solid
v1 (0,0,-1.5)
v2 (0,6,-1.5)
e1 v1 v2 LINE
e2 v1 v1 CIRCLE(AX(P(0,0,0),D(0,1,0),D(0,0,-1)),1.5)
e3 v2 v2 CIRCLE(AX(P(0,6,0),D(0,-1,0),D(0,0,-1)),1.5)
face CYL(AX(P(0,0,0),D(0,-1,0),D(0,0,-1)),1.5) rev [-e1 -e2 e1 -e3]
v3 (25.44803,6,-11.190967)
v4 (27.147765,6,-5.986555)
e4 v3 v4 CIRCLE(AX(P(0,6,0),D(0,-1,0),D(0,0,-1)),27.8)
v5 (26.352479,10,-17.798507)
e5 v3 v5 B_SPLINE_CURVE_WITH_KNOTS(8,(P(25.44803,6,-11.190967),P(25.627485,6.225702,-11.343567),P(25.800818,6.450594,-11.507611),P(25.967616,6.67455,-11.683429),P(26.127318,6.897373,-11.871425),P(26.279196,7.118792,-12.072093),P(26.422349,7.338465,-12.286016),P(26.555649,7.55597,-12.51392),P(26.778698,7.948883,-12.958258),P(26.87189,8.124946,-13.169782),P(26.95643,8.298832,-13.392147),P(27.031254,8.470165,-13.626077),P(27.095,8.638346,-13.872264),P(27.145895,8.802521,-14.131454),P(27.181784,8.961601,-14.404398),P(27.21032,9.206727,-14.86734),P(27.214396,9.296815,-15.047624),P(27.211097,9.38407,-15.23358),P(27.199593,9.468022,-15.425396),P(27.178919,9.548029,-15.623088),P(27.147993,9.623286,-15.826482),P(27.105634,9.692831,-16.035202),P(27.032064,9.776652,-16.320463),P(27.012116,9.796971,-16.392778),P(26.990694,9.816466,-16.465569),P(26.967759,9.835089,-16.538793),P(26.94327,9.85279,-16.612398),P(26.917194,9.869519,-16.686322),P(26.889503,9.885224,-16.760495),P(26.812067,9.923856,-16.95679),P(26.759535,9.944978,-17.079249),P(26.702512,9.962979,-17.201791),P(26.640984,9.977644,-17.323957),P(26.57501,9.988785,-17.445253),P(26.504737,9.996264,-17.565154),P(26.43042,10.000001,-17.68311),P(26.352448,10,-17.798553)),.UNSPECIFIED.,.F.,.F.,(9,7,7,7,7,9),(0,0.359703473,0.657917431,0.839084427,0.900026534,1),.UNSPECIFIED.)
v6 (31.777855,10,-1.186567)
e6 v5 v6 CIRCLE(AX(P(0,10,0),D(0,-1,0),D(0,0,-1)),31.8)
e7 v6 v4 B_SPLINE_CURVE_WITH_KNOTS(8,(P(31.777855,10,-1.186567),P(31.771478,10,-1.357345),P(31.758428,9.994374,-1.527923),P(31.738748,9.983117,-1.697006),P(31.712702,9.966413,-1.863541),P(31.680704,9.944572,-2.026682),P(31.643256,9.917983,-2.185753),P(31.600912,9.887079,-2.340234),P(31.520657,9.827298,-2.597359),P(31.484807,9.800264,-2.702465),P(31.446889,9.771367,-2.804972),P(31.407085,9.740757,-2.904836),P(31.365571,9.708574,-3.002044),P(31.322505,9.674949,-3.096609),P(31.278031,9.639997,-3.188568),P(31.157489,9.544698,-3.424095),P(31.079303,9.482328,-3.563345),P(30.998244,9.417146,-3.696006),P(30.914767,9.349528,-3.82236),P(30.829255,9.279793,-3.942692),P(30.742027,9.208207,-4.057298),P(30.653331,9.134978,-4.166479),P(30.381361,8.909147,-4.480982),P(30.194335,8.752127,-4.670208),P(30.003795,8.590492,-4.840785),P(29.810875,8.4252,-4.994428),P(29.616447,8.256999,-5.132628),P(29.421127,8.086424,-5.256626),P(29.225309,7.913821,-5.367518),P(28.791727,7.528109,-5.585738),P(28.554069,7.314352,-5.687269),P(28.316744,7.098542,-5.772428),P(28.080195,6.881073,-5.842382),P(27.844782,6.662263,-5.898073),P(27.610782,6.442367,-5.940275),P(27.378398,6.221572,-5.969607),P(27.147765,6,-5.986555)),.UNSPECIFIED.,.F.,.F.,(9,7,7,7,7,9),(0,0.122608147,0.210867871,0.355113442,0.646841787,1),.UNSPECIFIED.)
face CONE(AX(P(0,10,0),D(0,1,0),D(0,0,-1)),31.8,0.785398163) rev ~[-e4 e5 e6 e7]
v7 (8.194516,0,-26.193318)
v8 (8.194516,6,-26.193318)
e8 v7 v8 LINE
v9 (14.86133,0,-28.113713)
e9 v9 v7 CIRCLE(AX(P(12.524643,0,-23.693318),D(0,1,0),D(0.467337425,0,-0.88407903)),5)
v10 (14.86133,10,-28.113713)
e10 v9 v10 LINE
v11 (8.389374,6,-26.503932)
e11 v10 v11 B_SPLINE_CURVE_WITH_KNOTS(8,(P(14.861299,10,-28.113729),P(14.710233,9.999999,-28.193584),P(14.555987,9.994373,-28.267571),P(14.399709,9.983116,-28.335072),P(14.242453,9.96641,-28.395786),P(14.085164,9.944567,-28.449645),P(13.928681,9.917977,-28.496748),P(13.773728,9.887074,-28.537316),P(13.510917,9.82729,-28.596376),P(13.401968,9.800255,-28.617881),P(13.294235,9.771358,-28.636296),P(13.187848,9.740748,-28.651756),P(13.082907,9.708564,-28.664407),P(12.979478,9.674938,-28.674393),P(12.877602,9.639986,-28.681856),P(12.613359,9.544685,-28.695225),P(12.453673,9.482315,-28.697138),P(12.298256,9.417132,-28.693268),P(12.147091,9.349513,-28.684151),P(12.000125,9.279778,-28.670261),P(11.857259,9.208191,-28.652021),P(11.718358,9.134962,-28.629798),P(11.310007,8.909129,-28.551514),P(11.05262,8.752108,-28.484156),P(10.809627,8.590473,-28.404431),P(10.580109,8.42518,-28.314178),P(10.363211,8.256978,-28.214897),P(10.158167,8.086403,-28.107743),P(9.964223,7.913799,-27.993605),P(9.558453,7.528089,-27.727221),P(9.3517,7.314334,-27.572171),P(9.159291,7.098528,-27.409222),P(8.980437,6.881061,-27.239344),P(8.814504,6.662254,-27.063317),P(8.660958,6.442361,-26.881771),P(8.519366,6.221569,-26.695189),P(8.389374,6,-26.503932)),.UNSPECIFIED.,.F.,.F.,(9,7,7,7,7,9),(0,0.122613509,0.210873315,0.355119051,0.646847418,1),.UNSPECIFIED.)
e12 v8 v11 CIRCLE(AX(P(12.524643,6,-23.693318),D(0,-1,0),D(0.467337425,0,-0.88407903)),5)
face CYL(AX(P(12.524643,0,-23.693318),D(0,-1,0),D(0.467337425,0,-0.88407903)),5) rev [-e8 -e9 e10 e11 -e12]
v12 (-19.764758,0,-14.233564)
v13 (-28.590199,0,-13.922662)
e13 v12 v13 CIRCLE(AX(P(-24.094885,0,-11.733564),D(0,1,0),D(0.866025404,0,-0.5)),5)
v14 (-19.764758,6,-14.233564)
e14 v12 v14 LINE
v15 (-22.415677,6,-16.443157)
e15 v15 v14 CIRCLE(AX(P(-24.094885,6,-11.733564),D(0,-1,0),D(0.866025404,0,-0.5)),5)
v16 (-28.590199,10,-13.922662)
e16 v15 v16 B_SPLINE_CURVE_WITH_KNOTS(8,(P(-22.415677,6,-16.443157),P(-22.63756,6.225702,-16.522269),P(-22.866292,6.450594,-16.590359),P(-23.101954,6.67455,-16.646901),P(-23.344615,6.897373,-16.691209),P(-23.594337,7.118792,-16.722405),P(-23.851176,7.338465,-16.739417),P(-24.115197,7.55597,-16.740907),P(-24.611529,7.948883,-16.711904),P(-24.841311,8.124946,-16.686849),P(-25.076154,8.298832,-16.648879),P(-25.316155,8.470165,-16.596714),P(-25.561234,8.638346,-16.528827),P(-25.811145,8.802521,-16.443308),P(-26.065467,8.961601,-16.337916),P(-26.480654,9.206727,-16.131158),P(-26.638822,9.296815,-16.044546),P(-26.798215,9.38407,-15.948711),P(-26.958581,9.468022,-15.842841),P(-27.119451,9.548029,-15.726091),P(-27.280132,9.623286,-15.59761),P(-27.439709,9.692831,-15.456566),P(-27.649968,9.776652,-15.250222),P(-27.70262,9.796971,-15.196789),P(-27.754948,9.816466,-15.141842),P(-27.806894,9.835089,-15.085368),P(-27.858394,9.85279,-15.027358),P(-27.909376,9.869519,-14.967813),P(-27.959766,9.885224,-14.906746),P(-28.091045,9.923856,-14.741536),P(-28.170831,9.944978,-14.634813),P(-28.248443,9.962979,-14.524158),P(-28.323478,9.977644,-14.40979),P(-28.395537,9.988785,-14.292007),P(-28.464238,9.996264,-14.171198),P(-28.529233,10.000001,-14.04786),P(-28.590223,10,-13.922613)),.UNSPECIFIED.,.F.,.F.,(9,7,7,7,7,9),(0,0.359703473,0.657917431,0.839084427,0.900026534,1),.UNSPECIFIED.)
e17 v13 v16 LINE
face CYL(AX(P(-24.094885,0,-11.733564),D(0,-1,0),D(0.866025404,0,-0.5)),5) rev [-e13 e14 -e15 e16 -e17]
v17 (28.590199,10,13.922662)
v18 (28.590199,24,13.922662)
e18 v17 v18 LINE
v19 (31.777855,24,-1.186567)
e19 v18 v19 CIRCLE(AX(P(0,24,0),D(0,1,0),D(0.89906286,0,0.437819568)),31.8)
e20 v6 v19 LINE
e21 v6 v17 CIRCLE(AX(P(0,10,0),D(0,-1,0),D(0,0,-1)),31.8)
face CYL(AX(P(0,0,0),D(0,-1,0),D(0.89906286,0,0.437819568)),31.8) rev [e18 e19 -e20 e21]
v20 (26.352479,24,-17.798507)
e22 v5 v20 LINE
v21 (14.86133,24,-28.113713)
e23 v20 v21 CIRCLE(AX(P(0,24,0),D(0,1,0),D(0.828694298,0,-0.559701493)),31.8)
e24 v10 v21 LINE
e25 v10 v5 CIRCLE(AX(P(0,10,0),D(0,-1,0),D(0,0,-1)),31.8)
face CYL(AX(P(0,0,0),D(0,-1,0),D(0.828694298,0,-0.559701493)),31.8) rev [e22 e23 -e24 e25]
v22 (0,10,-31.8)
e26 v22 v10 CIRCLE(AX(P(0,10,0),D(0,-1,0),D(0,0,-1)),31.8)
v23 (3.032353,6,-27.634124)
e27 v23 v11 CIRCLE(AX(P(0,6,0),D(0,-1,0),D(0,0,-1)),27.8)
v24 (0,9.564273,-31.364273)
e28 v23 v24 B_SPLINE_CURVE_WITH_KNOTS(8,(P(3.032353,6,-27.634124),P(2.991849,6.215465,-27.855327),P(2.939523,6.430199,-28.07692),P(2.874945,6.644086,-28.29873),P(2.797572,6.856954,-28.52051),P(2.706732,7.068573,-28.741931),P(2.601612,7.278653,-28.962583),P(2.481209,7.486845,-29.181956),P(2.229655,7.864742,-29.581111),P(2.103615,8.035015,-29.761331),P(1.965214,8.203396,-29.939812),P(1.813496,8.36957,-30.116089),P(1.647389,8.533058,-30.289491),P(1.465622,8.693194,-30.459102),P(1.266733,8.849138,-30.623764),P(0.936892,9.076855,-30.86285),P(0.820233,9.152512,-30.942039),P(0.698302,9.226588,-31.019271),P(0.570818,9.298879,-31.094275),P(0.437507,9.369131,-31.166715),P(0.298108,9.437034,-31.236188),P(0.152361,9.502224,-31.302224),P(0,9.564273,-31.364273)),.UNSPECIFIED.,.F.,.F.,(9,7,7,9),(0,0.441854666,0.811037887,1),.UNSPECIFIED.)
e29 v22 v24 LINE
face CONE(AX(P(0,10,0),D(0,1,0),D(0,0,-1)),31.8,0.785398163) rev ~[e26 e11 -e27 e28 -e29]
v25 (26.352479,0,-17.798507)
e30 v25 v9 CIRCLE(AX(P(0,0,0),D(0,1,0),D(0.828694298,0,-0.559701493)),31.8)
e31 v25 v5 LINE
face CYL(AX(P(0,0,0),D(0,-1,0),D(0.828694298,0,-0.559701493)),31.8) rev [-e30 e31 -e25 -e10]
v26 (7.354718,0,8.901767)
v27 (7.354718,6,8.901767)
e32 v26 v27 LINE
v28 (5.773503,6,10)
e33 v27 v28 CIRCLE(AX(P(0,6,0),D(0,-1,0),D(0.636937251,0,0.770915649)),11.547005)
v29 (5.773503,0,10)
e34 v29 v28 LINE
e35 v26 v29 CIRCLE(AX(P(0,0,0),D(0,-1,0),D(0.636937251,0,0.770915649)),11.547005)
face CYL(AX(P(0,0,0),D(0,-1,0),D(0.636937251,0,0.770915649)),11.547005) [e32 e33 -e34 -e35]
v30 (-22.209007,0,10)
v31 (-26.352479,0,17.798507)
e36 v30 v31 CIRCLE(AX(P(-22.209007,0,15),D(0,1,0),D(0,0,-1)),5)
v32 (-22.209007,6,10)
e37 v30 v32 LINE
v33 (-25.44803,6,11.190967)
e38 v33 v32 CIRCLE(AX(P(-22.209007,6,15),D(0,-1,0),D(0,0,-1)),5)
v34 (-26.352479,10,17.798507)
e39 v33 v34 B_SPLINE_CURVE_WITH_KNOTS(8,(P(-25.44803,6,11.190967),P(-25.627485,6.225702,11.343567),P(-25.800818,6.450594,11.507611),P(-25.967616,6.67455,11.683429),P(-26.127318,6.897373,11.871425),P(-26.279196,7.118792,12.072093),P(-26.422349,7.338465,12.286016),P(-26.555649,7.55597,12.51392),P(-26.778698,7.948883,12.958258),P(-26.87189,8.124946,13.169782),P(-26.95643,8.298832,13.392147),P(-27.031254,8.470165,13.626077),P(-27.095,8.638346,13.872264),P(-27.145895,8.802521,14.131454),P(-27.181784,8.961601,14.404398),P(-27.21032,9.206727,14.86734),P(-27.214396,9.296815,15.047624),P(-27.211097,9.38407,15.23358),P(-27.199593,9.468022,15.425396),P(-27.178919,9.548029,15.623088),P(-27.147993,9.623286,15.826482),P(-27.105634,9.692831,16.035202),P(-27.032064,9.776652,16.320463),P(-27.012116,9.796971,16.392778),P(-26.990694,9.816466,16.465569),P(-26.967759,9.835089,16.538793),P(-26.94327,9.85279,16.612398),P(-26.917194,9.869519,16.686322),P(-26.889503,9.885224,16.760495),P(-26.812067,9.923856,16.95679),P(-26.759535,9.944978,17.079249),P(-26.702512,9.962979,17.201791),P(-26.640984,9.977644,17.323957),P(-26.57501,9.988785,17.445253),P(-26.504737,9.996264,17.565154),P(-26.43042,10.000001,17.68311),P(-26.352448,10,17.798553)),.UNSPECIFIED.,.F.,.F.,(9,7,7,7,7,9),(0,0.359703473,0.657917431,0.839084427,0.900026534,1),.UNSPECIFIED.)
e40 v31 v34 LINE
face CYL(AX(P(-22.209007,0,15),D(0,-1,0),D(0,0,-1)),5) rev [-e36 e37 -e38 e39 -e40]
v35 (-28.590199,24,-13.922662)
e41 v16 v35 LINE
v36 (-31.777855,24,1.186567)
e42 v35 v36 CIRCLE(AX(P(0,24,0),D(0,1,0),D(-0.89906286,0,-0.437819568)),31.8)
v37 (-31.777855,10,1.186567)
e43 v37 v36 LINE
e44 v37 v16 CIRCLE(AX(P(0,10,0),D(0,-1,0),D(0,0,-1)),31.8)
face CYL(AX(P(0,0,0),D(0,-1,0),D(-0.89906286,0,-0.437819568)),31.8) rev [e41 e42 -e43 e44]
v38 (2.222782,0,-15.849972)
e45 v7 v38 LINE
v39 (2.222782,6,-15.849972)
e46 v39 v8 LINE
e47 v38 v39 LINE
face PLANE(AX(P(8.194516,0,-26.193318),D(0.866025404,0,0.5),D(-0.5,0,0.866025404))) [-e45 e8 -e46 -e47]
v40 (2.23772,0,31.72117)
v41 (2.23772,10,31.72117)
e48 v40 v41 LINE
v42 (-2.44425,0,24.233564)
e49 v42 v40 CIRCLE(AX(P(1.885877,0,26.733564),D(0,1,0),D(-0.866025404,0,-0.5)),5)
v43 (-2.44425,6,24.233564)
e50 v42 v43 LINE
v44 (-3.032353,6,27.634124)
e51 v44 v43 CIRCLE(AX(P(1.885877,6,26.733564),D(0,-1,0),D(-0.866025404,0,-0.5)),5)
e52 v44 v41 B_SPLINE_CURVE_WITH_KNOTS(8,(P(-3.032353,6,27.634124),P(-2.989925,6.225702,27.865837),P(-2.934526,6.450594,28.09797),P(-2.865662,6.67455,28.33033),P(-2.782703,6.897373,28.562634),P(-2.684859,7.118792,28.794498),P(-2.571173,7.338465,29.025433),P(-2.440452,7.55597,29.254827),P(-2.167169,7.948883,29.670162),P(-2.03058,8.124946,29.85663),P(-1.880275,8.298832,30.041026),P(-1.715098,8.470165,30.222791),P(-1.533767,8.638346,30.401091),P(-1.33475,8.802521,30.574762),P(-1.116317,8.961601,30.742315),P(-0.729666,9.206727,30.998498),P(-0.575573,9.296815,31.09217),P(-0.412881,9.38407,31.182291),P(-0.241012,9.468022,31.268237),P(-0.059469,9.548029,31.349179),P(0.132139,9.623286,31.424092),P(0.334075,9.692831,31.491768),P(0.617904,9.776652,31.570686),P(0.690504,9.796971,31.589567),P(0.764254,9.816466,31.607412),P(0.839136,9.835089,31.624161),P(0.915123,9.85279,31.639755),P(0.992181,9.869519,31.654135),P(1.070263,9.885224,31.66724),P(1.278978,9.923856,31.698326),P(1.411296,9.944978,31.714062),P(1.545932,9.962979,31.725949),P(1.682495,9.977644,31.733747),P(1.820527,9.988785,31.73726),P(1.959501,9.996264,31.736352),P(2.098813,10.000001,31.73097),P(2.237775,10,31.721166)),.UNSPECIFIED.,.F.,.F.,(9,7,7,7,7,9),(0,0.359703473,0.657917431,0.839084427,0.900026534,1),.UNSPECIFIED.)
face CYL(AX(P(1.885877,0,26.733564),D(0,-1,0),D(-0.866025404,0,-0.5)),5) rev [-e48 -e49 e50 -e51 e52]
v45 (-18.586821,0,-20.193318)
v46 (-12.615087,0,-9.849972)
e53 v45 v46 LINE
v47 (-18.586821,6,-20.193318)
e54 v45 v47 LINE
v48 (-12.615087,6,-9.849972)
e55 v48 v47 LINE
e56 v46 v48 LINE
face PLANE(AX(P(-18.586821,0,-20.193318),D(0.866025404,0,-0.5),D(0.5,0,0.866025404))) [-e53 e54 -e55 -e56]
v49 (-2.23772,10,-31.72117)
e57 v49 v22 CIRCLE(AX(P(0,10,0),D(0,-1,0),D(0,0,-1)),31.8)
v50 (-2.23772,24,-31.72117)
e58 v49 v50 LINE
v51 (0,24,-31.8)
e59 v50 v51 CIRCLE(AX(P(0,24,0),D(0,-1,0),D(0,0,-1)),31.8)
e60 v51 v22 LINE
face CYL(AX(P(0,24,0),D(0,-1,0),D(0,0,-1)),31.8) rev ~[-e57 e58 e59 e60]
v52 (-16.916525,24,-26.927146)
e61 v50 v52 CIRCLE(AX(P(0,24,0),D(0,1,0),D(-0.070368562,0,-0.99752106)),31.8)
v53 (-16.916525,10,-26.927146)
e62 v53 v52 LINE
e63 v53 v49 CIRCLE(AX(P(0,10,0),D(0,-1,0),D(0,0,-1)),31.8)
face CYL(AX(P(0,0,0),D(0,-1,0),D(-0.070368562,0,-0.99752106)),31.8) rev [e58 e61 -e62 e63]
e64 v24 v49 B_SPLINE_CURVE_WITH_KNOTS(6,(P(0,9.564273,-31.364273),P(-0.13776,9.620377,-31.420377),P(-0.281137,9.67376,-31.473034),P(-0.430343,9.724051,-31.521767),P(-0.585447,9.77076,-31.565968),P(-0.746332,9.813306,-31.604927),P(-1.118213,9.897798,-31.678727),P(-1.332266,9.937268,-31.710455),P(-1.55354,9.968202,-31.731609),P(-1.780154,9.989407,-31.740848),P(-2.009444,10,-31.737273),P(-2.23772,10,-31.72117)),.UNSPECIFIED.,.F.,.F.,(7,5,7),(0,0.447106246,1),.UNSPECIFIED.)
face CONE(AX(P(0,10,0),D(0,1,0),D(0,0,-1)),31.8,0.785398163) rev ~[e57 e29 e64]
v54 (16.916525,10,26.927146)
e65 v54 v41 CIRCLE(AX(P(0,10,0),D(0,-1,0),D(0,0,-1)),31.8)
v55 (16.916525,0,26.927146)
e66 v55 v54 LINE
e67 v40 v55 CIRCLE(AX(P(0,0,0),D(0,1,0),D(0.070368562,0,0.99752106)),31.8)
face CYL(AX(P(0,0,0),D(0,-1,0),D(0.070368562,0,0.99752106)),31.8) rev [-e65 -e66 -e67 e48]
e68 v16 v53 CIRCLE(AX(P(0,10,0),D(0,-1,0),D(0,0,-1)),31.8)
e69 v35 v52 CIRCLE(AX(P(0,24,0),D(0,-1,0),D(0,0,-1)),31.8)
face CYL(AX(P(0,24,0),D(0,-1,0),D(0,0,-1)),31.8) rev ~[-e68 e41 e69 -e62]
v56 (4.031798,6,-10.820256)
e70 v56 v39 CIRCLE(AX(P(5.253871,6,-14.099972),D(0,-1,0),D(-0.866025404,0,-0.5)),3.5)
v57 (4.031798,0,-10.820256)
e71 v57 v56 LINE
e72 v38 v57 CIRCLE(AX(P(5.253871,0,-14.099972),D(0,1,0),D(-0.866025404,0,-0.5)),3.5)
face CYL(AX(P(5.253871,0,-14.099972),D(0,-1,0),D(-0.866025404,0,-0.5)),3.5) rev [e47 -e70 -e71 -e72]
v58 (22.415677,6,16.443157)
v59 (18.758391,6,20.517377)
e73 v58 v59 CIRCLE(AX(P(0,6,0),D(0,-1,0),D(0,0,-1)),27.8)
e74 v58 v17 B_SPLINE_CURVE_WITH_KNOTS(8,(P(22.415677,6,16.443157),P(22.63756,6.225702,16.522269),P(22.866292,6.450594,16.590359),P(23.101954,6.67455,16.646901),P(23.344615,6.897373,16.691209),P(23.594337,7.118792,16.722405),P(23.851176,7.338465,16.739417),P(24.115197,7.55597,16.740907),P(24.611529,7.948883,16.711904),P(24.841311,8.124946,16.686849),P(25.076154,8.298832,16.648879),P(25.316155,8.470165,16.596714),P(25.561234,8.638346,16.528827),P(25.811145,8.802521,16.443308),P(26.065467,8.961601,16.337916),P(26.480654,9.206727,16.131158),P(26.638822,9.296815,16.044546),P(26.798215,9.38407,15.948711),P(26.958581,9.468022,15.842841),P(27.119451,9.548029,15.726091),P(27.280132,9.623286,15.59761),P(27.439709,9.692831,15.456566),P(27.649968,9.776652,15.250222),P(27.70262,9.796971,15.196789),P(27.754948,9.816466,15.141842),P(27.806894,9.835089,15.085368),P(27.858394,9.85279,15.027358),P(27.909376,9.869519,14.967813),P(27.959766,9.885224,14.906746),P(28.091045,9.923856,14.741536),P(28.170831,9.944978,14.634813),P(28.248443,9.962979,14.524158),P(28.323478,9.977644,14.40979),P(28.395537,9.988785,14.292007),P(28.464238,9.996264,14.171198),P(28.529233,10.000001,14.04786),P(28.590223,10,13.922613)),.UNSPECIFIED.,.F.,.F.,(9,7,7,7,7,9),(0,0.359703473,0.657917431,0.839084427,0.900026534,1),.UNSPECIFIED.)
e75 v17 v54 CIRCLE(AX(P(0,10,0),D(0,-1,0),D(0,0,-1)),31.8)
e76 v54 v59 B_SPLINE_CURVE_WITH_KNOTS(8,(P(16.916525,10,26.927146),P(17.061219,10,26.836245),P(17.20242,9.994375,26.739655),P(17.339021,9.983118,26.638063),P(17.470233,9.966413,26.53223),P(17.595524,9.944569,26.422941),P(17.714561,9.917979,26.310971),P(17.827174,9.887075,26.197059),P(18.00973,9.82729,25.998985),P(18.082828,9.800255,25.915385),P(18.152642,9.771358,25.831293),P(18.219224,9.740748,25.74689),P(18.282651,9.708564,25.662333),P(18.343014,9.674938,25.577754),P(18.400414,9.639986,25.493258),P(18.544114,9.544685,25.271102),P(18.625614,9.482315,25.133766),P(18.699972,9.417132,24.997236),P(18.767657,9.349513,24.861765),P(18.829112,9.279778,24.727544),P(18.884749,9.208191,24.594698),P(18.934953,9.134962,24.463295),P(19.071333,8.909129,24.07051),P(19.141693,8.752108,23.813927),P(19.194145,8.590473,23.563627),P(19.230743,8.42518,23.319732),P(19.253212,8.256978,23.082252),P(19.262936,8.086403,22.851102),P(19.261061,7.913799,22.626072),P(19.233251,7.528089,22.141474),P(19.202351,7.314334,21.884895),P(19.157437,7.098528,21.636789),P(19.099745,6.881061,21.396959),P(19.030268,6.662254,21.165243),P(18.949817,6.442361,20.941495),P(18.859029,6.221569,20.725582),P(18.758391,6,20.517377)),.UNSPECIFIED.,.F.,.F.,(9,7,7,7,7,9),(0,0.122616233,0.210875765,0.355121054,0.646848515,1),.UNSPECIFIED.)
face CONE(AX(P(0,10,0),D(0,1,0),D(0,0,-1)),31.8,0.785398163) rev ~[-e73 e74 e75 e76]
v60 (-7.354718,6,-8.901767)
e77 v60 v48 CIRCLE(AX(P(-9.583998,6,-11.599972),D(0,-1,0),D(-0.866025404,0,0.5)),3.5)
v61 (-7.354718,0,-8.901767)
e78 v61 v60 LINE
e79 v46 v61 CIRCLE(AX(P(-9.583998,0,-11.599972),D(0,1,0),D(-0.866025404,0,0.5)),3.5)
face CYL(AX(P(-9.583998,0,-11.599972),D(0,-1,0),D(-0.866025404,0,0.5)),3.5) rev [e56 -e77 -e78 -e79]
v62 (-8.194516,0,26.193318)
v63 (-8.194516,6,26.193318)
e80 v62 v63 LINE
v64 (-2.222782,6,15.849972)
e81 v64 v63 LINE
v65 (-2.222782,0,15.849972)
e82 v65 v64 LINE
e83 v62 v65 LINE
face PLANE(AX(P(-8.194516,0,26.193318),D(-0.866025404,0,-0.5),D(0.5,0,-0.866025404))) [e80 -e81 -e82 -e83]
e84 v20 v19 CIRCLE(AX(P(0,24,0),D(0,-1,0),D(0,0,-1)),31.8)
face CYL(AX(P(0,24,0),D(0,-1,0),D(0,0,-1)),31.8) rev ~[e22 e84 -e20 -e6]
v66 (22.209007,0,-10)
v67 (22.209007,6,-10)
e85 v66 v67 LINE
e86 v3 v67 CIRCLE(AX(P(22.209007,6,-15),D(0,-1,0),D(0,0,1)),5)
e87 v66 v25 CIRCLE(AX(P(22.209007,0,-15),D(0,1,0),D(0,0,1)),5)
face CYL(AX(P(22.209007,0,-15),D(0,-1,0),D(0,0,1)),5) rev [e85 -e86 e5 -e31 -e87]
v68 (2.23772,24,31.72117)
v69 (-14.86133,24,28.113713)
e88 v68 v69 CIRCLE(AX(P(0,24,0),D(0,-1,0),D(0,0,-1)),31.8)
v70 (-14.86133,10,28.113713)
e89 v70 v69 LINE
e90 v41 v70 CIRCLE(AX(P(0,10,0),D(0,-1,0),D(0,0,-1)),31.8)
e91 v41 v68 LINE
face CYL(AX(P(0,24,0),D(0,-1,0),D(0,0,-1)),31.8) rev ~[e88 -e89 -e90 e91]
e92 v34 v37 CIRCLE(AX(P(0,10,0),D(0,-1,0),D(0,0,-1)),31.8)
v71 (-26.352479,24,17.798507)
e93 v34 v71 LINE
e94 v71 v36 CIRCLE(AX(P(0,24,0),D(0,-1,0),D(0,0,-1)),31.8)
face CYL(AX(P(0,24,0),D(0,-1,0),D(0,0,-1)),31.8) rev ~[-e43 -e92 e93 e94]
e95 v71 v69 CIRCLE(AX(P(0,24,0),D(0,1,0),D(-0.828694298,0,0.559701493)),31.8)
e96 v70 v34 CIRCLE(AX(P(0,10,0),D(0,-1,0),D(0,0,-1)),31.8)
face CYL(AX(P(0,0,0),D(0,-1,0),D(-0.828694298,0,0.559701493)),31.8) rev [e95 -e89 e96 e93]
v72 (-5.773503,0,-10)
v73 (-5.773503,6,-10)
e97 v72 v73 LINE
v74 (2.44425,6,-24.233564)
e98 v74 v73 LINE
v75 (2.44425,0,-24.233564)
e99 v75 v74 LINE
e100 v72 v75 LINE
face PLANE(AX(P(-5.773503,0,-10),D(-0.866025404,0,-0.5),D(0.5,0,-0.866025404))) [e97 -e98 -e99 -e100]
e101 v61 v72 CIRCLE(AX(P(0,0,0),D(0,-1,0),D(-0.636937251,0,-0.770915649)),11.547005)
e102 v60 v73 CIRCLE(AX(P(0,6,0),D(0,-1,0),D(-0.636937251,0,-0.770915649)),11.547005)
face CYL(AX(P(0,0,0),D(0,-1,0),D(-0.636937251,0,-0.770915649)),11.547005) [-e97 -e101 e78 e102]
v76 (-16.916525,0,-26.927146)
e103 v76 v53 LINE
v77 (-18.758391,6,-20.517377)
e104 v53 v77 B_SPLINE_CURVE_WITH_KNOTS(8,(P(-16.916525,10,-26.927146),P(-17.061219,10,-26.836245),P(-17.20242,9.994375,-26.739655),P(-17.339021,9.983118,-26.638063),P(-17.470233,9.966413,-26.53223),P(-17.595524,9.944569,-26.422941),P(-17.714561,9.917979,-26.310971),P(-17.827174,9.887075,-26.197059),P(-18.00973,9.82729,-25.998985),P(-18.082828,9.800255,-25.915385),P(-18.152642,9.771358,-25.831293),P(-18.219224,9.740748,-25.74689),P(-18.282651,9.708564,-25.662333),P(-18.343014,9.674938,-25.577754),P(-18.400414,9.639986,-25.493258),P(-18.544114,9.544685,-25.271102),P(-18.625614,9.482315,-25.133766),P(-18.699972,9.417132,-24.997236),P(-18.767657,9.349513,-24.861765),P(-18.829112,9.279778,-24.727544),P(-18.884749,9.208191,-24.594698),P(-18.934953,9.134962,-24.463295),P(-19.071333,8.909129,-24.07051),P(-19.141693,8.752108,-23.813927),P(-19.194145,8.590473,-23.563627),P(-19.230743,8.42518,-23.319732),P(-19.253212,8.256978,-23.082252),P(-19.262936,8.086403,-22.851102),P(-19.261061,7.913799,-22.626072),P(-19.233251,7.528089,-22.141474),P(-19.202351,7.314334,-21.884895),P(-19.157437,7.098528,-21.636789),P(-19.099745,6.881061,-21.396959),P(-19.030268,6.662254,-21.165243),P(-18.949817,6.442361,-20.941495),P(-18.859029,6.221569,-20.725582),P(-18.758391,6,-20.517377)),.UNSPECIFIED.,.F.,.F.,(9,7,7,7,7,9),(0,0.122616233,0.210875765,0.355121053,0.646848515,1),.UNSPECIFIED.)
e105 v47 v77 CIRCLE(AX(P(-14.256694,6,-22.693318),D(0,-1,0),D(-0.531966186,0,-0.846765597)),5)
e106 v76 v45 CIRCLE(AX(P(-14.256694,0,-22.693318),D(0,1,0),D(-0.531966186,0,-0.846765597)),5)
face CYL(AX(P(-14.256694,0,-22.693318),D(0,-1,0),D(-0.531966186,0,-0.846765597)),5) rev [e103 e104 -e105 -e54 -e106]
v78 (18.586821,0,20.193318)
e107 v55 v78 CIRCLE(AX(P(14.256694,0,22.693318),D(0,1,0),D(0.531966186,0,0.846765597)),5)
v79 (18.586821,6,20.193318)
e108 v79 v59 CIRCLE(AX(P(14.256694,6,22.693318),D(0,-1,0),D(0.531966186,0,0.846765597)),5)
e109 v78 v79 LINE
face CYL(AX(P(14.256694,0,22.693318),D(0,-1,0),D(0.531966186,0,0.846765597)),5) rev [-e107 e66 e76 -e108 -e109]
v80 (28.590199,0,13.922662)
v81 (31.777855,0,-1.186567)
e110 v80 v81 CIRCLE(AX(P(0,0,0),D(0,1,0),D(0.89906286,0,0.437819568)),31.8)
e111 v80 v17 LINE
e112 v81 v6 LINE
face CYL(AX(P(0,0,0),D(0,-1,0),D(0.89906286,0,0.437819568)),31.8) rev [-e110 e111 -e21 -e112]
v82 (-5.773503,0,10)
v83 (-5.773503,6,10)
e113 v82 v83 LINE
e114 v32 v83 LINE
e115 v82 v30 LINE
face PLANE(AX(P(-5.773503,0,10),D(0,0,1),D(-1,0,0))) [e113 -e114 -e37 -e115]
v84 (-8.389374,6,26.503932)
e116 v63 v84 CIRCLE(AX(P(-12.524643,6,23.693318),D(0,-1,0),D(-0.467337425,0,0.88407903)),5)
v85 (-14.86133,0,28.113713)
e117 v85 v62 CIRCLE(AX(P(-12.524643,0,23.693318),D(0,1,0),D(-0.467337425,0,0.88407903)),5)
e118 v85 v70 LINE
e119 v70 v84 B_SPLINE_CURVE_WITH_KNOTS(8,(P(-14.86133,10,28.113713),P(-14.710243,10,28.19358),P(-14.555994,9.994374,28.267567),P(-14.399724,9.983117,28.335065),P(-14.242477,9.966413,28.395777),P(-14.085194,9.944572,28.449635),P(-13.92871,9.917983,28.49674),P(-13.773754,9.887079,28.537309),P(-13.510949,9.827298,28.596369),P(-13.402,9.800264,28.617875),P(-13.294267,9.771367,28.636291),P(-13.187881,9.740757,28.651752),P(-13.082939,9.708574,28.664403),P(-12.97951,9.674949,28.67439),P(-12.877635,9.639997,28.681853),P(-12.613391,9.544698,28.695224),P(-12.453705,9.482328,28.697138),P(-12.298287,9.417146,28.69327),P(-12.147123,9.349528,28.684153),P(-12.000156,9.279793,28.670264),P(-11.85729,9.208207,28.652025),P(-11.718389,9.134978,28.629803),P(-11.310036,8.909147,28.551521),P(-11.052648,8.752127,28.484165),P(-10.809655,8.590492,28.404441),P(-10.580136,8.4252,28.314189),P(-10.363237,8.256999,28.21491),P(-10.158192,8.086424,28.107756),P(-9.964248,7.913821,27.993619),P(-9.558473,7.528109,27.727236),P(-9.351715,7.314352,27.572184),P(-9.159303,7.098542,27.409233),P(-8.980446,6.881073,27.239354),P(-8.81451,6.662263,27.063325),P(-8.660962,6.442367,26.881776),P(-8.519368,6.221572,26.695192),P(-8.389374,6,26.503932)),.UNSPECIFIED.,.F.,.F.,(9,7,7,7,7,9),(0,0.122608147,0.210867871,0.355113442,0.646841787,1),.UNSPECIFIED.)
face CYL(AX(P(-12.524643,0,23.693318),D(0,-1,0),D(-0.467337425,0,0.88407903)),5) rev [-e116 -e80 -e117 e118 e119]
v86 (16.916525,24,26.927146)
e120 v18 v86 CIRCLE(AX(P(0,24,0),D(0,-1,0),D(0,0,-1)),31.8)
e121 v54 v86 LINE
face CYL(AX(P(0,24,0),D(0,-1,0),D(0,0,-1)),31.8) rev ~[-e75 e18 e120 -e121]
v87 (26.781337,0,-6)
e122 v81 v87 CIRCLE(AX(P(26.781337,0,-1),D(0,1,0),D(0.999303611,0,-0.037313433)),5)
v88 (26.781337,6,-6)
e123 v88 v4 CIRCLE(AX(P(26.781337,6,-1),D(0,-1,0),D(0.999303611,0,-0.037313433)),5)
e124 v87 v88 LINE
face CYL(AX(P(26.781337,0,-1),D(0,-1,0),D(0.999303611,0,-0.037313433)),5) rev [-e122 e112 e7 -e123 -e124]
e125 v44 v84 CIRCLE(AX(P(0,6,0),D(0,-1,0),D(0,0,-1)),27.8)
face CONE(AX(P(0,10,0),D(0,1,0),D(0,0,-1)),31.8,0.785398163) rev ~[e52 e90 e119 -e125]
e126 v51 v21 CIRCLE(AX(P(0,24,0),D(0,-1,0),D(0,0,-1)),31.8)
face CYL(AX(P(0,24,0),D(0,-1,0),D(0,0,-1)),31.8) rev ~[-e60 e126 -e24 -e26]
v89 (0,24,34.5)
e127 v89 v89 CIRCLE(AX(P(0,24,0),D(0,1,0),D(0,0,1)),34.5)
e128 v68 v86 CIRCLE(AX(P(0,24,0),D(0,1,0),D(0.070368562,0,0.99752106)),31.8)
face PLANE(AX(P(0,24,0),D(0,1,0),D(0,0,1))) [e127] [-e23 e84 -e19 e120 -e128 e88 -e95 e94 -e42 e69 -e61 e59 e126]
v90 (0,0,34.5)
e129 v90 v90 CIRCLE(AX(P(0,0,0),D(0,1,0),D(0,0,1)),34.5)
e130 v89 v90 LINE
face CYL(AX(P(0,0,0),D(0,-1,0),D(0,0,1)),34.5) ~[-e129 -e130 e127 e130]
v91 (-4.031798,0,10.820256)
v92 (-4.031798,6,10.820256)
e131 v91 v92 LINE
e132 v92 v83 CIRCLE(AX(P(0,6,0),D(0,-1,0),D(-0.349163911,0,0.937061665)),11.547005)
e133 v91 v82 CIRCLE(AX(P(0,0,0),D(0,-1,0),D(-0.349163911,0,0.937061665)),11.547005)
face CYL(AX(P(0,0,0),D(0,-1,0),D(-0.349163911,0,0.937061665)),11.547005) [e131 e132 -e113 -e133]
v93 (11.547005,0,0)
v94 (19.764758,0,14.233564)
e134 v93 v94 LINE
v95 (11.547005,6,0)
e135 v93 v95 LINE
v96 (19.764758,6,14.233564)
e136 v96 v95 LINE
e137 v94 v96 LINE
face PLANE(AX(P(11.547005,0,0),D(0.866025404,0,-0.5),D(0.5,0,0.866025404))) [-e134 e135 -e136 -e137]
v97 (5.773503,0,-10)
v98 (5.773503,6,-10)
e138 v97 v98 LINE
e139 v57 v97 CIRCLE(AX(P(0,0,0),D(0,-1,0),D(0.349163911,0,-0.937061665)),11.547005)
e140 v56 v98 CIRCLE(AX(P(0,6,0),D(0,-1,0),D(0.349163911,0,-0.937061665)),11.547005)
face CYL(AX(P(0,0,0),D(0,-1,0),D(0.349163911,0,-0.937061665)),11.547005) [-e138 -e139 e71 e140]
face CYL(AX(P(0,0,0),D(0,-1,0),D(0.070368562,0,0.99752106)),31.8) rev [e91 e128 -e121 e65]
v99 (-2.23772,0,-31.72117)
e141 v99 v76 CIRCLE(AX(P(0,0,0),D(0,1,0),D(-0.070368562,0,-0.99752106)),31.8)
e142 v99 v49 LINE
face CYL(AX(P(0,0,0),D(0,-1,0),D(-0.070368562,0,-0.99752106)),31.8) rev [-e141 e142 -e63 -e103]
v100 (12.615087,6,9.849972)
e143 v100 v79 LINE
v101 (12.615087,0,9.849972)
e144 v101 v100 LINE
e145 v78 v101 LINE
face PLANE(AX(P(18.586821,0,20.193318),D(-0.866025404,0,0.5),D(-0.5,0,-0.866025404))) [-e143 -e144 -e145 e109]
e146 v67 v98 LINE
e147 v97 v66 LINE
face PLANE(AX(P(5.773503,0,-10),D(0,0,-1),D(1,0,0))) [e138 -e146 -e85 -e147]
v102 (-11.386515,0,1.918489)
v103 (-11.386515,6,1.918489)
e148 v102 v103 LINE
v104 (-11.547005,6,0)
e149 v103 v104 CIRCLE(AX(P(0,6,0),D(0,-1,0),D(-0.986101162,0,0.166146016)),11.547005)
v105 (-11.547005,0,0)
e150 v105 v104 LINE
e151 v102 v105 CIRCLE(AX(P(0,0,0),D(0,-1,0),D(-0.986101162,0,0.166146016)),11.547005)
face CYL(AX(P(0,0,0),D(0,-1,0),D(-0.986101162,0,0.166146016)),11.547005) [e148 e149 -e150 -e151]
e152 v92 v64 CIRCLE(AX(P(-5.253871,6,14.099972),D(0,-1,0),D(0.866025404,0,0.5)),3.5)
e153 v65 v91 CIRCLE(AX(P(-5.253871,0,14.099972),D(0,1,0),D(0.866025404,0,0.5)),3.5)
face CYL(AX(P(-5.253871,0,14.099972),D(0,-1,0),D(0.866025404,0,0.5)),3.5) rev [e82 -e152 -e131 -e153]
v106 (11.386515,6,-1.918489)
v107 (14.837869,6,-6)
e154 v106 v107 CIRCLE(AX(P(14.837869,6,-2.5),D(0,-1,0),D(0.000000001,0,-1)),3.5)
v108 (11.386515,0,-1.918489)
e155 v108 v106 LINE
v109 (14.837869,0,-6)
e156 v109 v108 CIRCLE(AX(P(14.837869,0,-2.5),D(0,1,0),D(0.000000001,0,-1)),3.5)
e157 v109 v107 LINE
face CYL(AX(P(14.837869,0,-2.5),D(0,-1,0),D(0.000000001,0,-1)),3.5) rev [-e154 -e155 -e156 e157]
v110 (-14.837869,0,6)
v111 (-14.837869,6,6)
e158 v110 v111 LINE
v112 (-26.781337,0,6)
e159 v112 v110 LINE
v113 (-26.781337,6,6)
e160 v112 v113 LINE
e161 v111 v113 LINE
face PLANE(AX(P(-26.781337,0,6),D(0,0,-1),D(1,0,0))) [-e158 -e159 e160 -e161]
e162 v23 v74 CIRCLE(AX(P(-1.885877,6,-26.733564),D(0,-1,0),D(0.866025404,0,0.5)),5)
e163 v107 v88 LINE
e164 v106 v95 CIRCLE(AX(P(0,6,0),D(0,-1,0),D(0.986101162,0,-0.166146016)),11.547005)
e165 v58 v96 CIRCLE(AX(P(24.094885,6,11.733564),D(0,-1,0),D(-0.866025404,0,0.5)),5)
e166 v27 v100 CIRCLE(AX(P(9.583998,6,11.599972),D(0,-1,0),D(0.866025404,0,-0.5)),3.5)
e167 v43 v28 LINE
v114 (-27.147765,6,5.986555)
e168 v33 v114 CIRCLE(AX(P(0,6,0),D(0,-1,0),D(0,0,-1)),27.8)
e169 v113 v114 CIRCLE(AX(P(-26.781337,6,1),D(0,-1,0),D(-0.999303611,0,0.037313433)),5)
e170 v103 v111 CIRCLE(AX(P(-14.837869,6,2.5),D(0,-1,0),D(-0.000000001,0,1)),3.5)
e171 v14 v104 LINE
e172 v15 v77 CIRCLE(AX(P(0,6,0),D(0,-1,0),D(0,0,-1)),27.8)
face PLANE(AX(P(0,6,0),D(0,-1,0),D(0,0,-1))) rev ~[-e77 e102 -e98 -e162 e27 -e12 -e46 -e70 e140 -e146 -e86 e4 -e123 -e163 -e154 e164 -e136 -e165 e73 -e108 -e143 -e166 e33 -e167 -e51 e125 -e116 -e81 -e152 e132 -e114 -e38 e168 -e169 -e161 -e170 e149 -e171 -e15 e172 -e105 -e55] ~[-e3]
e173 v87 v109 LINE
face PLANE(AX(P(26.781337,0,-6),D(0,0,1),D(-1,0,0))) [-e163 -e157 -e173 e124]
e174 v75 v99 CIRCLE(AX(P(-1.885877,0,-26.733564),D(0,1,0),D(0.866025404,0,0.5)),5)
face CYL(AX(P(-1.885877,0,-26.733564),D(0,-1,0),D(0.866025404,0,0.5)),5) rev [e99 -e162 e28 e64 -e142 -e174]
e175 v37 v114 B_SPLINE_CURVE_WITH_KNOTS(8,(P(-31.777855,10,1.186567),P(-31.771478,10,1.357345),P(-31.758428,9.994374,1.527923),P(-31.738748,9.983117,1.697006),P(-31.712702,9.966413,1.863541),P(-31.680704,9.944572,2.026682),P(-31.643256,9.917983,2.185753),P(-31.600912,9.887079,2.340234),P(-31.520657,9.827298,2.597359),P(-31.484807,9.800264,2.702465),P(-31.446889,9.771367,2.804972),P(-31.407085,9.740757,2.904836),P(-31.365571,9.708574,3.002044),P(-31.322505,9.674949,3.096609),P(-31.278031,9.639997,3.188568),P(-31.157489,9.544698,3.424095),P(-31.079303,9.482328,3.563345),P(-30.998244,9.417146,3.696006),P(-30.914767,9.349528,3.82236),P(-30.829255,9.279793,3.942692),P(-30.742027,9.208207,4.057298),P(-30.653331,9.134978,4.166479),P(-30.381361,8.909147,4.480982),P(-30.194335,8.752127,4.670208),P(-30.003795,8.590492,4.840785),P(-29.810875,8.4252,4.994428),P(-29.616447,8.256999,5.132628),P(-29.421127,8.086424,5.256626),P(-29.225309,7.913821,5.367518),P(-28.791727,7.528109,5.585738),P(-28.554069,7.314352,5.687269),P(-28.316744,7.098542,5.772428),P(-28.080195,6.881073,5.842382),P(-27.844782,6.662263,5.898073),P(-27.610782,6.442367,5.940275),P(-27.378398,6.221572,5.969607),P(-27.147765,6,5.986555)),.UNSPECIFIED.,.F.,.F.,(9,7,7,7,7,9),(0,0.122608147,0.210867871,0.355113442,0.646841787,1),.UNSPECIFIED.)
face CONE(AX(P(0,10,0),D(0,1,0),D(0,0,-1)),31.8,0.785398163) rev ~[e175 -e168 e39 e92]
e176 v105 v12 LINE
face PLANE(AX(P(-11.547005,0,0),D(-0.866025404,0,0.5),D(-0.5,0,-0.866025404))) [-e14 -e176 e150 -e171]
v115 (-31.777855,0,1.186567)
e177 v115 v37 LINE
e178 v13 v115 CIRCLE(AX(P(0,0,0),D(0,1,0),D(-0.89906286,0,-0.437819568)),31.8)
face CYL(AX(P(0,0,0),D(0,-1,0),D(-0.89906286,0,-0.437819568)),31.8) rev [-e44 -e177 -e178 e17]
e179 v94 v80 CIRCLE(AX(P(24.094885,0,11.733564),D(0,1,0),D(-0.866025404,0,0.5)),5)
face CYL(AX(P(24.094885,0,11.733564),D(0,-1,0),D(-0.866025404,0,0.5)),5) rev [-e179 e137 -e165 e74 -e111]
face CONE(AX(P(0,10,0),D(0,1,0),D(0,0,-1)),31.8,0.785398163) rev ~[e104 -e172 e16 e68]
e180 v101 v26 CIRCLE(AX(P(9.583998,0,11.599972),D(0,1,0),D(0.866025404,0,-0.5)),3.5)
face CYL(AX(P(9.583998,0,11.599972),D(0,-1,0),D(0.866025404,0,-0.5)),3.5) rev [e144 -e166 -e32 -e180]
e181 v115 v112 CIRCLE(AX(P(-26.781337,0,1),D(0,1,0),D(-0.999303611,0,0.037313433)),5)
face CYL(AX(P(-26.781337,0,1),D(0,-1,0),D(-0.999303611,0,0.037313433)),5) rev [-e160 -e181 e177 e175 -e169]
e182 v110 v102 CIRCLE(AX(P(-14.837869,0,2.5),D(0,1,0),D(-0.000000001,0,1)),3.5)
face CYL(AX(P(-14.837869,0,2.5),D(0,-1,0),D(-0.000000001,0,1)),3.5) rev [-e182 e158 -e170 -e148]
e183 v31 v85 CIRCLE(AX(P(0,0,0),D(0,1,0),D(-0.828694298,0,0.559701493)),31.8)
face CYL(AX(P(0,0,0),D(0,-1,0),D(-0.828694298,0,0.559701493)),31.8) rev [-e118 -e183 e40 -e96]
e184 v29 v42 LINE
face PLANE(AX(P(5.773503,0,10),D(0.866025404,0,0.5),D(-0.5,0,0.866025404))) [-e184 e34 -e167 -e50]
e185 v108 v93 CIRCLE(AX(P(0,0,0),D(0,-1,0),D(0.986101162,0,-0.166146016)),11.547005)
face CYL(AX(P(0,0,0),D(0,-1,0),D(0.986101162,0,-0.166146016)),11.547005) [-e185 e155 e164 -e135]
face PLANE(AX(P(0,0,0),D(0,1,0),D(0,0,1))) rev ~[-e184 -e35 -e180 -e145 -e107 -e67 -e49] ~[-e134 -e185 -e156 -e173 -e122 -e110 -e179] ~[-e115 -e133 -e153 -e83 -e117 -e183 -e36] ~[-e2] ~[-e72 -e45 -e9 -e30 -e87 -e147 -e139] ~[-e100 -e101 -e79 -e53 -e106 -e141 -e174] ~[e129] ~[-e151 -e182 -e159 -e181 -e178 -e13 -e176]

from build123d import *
from build123d.topology import SkipClean

# Parameters (mm, degrees)
SKETCH1_R           = 34.5
BOSS_EXTRUDE1_DEPTH = 24
SKETCH6_R           = 1.5
CUT_EXTRUDE6_DEPTH  = 24
CUT_EXTRUDE7_DEPTH  = 24
CIRPATTERN1_COUNT   = 6


with BuildPart() as part:
    # Sketch1 → Boss-Extrude1 (new body)
    with BuildSketch(Plane(origin=(0, 0, 0), x_dir=(1, 0, 0), z_dir=(0, 1, 0))):
        with Locations(Location((0, 0, 0), (0, 0, 270))):
            Circle(SKETCH1_R)
    extrude(amount=BOSS_EXTRUDE1_DEPTH)

    # Sketch6 → Cut-Extrude6 (cut)
    with BuildSketch(Plane(origin=(0, 0, 0), x_dir=(1, 0, 0), z_dir=(0, 1, 0))):
        with Locations(Location((0, 0, 0), (0, 0, 90))):
            Circle(SKETCH6_R)
    extrude(amount=CUT_EXTRUDE6_DEPTH, mode=Mode.SUBTRACT)

    # Sketch3 → Cut-Extrude7 (cut)
    with BuildSketch(Plane(origin=(0, 0, 0), x_dir=(1, 0, 0), z_dir=(0, 1, 0))):
        with BuildLine():
            ThreePointArc((4.03179755, 10.82025609), (4.919774713, 10.446489846), (5.773502692, 10))
            Line((5.773502692, 10), (22.209007182, 10))
            ThreePointArc((22.209007182, 10), (26.624465103, 12.65399673), (26.352478671, 17.798507463))
            ThreePointArc((26.352478671, 17.798507463), (21.242536942, 23.664205549), (14.861330114, 28.113713153))
            ThreePointArc((14.861330114, 28.113713153), (11.140652369, 28.497958465), (8.19451597, 26.193318003))
            Line((8.19451597, 26.193318003), (2.222782323, 15.849971917))
            ThreePointArc((2.222782323, 15.849971917), (1.960414336, 12.915429114), (4.03179755, 10.82025609))
        make_face()
    cut_extrude7 = extrude(amount=CUT_EXTRUDE7_DEPTH, mode=Mode.SUBTRACT)

    # CirPattern1: Cut-Extrude7 ×6 about axis
    cirpattern1_axis = Axis((0, 0, 0), (0, 1, 0))
    for i in range(1, CIRPATTERN1_COUNT):
        add(cut_extrude7.rotate(cirpattern1_axis, i * 360 / CIRPATTERN1_COUNT), mode=Mode.SUBTRACT)

    # Sketch14 → Revolve1 (revolve)
    with BuildSketch(Plane.XY):
        Polygon((32, 13), (32, 12), (34.5, 12), (34.5, 14), align=None)
    revolve1 = revolve(axis=Axis((0, 24, 0), (0, -1, 0)))

    # Mirror11: Revolve1 across plane
    add(revolve1.mirror(Plane.ZX.offset(12)))

    # Sketch15 → Cut-Revolve5 (revolve, cut)
    with SkipClean():  # the faces are left unmerged after this step: merging them gives an invalid solid
        with BuildSketch(Plane.XY, mode=Mode.PRIVATE) as cut_revolve5_sk:
            Polygon((1.5, 6), (1.5, 0), (0, 0), (0, 6), (0, 24), (31.8, 24), (31.8, 10), (27.8, 6), align=None)
        revolve(cut_revolve5_sk.sketch.rotate(Axis((0, 6, 0), (0, -1, 0)), 270), axis=Axis((0, 6, 0), (0, -1, 0)), mode=Mode.SUBTRACT)


solid = part.part
